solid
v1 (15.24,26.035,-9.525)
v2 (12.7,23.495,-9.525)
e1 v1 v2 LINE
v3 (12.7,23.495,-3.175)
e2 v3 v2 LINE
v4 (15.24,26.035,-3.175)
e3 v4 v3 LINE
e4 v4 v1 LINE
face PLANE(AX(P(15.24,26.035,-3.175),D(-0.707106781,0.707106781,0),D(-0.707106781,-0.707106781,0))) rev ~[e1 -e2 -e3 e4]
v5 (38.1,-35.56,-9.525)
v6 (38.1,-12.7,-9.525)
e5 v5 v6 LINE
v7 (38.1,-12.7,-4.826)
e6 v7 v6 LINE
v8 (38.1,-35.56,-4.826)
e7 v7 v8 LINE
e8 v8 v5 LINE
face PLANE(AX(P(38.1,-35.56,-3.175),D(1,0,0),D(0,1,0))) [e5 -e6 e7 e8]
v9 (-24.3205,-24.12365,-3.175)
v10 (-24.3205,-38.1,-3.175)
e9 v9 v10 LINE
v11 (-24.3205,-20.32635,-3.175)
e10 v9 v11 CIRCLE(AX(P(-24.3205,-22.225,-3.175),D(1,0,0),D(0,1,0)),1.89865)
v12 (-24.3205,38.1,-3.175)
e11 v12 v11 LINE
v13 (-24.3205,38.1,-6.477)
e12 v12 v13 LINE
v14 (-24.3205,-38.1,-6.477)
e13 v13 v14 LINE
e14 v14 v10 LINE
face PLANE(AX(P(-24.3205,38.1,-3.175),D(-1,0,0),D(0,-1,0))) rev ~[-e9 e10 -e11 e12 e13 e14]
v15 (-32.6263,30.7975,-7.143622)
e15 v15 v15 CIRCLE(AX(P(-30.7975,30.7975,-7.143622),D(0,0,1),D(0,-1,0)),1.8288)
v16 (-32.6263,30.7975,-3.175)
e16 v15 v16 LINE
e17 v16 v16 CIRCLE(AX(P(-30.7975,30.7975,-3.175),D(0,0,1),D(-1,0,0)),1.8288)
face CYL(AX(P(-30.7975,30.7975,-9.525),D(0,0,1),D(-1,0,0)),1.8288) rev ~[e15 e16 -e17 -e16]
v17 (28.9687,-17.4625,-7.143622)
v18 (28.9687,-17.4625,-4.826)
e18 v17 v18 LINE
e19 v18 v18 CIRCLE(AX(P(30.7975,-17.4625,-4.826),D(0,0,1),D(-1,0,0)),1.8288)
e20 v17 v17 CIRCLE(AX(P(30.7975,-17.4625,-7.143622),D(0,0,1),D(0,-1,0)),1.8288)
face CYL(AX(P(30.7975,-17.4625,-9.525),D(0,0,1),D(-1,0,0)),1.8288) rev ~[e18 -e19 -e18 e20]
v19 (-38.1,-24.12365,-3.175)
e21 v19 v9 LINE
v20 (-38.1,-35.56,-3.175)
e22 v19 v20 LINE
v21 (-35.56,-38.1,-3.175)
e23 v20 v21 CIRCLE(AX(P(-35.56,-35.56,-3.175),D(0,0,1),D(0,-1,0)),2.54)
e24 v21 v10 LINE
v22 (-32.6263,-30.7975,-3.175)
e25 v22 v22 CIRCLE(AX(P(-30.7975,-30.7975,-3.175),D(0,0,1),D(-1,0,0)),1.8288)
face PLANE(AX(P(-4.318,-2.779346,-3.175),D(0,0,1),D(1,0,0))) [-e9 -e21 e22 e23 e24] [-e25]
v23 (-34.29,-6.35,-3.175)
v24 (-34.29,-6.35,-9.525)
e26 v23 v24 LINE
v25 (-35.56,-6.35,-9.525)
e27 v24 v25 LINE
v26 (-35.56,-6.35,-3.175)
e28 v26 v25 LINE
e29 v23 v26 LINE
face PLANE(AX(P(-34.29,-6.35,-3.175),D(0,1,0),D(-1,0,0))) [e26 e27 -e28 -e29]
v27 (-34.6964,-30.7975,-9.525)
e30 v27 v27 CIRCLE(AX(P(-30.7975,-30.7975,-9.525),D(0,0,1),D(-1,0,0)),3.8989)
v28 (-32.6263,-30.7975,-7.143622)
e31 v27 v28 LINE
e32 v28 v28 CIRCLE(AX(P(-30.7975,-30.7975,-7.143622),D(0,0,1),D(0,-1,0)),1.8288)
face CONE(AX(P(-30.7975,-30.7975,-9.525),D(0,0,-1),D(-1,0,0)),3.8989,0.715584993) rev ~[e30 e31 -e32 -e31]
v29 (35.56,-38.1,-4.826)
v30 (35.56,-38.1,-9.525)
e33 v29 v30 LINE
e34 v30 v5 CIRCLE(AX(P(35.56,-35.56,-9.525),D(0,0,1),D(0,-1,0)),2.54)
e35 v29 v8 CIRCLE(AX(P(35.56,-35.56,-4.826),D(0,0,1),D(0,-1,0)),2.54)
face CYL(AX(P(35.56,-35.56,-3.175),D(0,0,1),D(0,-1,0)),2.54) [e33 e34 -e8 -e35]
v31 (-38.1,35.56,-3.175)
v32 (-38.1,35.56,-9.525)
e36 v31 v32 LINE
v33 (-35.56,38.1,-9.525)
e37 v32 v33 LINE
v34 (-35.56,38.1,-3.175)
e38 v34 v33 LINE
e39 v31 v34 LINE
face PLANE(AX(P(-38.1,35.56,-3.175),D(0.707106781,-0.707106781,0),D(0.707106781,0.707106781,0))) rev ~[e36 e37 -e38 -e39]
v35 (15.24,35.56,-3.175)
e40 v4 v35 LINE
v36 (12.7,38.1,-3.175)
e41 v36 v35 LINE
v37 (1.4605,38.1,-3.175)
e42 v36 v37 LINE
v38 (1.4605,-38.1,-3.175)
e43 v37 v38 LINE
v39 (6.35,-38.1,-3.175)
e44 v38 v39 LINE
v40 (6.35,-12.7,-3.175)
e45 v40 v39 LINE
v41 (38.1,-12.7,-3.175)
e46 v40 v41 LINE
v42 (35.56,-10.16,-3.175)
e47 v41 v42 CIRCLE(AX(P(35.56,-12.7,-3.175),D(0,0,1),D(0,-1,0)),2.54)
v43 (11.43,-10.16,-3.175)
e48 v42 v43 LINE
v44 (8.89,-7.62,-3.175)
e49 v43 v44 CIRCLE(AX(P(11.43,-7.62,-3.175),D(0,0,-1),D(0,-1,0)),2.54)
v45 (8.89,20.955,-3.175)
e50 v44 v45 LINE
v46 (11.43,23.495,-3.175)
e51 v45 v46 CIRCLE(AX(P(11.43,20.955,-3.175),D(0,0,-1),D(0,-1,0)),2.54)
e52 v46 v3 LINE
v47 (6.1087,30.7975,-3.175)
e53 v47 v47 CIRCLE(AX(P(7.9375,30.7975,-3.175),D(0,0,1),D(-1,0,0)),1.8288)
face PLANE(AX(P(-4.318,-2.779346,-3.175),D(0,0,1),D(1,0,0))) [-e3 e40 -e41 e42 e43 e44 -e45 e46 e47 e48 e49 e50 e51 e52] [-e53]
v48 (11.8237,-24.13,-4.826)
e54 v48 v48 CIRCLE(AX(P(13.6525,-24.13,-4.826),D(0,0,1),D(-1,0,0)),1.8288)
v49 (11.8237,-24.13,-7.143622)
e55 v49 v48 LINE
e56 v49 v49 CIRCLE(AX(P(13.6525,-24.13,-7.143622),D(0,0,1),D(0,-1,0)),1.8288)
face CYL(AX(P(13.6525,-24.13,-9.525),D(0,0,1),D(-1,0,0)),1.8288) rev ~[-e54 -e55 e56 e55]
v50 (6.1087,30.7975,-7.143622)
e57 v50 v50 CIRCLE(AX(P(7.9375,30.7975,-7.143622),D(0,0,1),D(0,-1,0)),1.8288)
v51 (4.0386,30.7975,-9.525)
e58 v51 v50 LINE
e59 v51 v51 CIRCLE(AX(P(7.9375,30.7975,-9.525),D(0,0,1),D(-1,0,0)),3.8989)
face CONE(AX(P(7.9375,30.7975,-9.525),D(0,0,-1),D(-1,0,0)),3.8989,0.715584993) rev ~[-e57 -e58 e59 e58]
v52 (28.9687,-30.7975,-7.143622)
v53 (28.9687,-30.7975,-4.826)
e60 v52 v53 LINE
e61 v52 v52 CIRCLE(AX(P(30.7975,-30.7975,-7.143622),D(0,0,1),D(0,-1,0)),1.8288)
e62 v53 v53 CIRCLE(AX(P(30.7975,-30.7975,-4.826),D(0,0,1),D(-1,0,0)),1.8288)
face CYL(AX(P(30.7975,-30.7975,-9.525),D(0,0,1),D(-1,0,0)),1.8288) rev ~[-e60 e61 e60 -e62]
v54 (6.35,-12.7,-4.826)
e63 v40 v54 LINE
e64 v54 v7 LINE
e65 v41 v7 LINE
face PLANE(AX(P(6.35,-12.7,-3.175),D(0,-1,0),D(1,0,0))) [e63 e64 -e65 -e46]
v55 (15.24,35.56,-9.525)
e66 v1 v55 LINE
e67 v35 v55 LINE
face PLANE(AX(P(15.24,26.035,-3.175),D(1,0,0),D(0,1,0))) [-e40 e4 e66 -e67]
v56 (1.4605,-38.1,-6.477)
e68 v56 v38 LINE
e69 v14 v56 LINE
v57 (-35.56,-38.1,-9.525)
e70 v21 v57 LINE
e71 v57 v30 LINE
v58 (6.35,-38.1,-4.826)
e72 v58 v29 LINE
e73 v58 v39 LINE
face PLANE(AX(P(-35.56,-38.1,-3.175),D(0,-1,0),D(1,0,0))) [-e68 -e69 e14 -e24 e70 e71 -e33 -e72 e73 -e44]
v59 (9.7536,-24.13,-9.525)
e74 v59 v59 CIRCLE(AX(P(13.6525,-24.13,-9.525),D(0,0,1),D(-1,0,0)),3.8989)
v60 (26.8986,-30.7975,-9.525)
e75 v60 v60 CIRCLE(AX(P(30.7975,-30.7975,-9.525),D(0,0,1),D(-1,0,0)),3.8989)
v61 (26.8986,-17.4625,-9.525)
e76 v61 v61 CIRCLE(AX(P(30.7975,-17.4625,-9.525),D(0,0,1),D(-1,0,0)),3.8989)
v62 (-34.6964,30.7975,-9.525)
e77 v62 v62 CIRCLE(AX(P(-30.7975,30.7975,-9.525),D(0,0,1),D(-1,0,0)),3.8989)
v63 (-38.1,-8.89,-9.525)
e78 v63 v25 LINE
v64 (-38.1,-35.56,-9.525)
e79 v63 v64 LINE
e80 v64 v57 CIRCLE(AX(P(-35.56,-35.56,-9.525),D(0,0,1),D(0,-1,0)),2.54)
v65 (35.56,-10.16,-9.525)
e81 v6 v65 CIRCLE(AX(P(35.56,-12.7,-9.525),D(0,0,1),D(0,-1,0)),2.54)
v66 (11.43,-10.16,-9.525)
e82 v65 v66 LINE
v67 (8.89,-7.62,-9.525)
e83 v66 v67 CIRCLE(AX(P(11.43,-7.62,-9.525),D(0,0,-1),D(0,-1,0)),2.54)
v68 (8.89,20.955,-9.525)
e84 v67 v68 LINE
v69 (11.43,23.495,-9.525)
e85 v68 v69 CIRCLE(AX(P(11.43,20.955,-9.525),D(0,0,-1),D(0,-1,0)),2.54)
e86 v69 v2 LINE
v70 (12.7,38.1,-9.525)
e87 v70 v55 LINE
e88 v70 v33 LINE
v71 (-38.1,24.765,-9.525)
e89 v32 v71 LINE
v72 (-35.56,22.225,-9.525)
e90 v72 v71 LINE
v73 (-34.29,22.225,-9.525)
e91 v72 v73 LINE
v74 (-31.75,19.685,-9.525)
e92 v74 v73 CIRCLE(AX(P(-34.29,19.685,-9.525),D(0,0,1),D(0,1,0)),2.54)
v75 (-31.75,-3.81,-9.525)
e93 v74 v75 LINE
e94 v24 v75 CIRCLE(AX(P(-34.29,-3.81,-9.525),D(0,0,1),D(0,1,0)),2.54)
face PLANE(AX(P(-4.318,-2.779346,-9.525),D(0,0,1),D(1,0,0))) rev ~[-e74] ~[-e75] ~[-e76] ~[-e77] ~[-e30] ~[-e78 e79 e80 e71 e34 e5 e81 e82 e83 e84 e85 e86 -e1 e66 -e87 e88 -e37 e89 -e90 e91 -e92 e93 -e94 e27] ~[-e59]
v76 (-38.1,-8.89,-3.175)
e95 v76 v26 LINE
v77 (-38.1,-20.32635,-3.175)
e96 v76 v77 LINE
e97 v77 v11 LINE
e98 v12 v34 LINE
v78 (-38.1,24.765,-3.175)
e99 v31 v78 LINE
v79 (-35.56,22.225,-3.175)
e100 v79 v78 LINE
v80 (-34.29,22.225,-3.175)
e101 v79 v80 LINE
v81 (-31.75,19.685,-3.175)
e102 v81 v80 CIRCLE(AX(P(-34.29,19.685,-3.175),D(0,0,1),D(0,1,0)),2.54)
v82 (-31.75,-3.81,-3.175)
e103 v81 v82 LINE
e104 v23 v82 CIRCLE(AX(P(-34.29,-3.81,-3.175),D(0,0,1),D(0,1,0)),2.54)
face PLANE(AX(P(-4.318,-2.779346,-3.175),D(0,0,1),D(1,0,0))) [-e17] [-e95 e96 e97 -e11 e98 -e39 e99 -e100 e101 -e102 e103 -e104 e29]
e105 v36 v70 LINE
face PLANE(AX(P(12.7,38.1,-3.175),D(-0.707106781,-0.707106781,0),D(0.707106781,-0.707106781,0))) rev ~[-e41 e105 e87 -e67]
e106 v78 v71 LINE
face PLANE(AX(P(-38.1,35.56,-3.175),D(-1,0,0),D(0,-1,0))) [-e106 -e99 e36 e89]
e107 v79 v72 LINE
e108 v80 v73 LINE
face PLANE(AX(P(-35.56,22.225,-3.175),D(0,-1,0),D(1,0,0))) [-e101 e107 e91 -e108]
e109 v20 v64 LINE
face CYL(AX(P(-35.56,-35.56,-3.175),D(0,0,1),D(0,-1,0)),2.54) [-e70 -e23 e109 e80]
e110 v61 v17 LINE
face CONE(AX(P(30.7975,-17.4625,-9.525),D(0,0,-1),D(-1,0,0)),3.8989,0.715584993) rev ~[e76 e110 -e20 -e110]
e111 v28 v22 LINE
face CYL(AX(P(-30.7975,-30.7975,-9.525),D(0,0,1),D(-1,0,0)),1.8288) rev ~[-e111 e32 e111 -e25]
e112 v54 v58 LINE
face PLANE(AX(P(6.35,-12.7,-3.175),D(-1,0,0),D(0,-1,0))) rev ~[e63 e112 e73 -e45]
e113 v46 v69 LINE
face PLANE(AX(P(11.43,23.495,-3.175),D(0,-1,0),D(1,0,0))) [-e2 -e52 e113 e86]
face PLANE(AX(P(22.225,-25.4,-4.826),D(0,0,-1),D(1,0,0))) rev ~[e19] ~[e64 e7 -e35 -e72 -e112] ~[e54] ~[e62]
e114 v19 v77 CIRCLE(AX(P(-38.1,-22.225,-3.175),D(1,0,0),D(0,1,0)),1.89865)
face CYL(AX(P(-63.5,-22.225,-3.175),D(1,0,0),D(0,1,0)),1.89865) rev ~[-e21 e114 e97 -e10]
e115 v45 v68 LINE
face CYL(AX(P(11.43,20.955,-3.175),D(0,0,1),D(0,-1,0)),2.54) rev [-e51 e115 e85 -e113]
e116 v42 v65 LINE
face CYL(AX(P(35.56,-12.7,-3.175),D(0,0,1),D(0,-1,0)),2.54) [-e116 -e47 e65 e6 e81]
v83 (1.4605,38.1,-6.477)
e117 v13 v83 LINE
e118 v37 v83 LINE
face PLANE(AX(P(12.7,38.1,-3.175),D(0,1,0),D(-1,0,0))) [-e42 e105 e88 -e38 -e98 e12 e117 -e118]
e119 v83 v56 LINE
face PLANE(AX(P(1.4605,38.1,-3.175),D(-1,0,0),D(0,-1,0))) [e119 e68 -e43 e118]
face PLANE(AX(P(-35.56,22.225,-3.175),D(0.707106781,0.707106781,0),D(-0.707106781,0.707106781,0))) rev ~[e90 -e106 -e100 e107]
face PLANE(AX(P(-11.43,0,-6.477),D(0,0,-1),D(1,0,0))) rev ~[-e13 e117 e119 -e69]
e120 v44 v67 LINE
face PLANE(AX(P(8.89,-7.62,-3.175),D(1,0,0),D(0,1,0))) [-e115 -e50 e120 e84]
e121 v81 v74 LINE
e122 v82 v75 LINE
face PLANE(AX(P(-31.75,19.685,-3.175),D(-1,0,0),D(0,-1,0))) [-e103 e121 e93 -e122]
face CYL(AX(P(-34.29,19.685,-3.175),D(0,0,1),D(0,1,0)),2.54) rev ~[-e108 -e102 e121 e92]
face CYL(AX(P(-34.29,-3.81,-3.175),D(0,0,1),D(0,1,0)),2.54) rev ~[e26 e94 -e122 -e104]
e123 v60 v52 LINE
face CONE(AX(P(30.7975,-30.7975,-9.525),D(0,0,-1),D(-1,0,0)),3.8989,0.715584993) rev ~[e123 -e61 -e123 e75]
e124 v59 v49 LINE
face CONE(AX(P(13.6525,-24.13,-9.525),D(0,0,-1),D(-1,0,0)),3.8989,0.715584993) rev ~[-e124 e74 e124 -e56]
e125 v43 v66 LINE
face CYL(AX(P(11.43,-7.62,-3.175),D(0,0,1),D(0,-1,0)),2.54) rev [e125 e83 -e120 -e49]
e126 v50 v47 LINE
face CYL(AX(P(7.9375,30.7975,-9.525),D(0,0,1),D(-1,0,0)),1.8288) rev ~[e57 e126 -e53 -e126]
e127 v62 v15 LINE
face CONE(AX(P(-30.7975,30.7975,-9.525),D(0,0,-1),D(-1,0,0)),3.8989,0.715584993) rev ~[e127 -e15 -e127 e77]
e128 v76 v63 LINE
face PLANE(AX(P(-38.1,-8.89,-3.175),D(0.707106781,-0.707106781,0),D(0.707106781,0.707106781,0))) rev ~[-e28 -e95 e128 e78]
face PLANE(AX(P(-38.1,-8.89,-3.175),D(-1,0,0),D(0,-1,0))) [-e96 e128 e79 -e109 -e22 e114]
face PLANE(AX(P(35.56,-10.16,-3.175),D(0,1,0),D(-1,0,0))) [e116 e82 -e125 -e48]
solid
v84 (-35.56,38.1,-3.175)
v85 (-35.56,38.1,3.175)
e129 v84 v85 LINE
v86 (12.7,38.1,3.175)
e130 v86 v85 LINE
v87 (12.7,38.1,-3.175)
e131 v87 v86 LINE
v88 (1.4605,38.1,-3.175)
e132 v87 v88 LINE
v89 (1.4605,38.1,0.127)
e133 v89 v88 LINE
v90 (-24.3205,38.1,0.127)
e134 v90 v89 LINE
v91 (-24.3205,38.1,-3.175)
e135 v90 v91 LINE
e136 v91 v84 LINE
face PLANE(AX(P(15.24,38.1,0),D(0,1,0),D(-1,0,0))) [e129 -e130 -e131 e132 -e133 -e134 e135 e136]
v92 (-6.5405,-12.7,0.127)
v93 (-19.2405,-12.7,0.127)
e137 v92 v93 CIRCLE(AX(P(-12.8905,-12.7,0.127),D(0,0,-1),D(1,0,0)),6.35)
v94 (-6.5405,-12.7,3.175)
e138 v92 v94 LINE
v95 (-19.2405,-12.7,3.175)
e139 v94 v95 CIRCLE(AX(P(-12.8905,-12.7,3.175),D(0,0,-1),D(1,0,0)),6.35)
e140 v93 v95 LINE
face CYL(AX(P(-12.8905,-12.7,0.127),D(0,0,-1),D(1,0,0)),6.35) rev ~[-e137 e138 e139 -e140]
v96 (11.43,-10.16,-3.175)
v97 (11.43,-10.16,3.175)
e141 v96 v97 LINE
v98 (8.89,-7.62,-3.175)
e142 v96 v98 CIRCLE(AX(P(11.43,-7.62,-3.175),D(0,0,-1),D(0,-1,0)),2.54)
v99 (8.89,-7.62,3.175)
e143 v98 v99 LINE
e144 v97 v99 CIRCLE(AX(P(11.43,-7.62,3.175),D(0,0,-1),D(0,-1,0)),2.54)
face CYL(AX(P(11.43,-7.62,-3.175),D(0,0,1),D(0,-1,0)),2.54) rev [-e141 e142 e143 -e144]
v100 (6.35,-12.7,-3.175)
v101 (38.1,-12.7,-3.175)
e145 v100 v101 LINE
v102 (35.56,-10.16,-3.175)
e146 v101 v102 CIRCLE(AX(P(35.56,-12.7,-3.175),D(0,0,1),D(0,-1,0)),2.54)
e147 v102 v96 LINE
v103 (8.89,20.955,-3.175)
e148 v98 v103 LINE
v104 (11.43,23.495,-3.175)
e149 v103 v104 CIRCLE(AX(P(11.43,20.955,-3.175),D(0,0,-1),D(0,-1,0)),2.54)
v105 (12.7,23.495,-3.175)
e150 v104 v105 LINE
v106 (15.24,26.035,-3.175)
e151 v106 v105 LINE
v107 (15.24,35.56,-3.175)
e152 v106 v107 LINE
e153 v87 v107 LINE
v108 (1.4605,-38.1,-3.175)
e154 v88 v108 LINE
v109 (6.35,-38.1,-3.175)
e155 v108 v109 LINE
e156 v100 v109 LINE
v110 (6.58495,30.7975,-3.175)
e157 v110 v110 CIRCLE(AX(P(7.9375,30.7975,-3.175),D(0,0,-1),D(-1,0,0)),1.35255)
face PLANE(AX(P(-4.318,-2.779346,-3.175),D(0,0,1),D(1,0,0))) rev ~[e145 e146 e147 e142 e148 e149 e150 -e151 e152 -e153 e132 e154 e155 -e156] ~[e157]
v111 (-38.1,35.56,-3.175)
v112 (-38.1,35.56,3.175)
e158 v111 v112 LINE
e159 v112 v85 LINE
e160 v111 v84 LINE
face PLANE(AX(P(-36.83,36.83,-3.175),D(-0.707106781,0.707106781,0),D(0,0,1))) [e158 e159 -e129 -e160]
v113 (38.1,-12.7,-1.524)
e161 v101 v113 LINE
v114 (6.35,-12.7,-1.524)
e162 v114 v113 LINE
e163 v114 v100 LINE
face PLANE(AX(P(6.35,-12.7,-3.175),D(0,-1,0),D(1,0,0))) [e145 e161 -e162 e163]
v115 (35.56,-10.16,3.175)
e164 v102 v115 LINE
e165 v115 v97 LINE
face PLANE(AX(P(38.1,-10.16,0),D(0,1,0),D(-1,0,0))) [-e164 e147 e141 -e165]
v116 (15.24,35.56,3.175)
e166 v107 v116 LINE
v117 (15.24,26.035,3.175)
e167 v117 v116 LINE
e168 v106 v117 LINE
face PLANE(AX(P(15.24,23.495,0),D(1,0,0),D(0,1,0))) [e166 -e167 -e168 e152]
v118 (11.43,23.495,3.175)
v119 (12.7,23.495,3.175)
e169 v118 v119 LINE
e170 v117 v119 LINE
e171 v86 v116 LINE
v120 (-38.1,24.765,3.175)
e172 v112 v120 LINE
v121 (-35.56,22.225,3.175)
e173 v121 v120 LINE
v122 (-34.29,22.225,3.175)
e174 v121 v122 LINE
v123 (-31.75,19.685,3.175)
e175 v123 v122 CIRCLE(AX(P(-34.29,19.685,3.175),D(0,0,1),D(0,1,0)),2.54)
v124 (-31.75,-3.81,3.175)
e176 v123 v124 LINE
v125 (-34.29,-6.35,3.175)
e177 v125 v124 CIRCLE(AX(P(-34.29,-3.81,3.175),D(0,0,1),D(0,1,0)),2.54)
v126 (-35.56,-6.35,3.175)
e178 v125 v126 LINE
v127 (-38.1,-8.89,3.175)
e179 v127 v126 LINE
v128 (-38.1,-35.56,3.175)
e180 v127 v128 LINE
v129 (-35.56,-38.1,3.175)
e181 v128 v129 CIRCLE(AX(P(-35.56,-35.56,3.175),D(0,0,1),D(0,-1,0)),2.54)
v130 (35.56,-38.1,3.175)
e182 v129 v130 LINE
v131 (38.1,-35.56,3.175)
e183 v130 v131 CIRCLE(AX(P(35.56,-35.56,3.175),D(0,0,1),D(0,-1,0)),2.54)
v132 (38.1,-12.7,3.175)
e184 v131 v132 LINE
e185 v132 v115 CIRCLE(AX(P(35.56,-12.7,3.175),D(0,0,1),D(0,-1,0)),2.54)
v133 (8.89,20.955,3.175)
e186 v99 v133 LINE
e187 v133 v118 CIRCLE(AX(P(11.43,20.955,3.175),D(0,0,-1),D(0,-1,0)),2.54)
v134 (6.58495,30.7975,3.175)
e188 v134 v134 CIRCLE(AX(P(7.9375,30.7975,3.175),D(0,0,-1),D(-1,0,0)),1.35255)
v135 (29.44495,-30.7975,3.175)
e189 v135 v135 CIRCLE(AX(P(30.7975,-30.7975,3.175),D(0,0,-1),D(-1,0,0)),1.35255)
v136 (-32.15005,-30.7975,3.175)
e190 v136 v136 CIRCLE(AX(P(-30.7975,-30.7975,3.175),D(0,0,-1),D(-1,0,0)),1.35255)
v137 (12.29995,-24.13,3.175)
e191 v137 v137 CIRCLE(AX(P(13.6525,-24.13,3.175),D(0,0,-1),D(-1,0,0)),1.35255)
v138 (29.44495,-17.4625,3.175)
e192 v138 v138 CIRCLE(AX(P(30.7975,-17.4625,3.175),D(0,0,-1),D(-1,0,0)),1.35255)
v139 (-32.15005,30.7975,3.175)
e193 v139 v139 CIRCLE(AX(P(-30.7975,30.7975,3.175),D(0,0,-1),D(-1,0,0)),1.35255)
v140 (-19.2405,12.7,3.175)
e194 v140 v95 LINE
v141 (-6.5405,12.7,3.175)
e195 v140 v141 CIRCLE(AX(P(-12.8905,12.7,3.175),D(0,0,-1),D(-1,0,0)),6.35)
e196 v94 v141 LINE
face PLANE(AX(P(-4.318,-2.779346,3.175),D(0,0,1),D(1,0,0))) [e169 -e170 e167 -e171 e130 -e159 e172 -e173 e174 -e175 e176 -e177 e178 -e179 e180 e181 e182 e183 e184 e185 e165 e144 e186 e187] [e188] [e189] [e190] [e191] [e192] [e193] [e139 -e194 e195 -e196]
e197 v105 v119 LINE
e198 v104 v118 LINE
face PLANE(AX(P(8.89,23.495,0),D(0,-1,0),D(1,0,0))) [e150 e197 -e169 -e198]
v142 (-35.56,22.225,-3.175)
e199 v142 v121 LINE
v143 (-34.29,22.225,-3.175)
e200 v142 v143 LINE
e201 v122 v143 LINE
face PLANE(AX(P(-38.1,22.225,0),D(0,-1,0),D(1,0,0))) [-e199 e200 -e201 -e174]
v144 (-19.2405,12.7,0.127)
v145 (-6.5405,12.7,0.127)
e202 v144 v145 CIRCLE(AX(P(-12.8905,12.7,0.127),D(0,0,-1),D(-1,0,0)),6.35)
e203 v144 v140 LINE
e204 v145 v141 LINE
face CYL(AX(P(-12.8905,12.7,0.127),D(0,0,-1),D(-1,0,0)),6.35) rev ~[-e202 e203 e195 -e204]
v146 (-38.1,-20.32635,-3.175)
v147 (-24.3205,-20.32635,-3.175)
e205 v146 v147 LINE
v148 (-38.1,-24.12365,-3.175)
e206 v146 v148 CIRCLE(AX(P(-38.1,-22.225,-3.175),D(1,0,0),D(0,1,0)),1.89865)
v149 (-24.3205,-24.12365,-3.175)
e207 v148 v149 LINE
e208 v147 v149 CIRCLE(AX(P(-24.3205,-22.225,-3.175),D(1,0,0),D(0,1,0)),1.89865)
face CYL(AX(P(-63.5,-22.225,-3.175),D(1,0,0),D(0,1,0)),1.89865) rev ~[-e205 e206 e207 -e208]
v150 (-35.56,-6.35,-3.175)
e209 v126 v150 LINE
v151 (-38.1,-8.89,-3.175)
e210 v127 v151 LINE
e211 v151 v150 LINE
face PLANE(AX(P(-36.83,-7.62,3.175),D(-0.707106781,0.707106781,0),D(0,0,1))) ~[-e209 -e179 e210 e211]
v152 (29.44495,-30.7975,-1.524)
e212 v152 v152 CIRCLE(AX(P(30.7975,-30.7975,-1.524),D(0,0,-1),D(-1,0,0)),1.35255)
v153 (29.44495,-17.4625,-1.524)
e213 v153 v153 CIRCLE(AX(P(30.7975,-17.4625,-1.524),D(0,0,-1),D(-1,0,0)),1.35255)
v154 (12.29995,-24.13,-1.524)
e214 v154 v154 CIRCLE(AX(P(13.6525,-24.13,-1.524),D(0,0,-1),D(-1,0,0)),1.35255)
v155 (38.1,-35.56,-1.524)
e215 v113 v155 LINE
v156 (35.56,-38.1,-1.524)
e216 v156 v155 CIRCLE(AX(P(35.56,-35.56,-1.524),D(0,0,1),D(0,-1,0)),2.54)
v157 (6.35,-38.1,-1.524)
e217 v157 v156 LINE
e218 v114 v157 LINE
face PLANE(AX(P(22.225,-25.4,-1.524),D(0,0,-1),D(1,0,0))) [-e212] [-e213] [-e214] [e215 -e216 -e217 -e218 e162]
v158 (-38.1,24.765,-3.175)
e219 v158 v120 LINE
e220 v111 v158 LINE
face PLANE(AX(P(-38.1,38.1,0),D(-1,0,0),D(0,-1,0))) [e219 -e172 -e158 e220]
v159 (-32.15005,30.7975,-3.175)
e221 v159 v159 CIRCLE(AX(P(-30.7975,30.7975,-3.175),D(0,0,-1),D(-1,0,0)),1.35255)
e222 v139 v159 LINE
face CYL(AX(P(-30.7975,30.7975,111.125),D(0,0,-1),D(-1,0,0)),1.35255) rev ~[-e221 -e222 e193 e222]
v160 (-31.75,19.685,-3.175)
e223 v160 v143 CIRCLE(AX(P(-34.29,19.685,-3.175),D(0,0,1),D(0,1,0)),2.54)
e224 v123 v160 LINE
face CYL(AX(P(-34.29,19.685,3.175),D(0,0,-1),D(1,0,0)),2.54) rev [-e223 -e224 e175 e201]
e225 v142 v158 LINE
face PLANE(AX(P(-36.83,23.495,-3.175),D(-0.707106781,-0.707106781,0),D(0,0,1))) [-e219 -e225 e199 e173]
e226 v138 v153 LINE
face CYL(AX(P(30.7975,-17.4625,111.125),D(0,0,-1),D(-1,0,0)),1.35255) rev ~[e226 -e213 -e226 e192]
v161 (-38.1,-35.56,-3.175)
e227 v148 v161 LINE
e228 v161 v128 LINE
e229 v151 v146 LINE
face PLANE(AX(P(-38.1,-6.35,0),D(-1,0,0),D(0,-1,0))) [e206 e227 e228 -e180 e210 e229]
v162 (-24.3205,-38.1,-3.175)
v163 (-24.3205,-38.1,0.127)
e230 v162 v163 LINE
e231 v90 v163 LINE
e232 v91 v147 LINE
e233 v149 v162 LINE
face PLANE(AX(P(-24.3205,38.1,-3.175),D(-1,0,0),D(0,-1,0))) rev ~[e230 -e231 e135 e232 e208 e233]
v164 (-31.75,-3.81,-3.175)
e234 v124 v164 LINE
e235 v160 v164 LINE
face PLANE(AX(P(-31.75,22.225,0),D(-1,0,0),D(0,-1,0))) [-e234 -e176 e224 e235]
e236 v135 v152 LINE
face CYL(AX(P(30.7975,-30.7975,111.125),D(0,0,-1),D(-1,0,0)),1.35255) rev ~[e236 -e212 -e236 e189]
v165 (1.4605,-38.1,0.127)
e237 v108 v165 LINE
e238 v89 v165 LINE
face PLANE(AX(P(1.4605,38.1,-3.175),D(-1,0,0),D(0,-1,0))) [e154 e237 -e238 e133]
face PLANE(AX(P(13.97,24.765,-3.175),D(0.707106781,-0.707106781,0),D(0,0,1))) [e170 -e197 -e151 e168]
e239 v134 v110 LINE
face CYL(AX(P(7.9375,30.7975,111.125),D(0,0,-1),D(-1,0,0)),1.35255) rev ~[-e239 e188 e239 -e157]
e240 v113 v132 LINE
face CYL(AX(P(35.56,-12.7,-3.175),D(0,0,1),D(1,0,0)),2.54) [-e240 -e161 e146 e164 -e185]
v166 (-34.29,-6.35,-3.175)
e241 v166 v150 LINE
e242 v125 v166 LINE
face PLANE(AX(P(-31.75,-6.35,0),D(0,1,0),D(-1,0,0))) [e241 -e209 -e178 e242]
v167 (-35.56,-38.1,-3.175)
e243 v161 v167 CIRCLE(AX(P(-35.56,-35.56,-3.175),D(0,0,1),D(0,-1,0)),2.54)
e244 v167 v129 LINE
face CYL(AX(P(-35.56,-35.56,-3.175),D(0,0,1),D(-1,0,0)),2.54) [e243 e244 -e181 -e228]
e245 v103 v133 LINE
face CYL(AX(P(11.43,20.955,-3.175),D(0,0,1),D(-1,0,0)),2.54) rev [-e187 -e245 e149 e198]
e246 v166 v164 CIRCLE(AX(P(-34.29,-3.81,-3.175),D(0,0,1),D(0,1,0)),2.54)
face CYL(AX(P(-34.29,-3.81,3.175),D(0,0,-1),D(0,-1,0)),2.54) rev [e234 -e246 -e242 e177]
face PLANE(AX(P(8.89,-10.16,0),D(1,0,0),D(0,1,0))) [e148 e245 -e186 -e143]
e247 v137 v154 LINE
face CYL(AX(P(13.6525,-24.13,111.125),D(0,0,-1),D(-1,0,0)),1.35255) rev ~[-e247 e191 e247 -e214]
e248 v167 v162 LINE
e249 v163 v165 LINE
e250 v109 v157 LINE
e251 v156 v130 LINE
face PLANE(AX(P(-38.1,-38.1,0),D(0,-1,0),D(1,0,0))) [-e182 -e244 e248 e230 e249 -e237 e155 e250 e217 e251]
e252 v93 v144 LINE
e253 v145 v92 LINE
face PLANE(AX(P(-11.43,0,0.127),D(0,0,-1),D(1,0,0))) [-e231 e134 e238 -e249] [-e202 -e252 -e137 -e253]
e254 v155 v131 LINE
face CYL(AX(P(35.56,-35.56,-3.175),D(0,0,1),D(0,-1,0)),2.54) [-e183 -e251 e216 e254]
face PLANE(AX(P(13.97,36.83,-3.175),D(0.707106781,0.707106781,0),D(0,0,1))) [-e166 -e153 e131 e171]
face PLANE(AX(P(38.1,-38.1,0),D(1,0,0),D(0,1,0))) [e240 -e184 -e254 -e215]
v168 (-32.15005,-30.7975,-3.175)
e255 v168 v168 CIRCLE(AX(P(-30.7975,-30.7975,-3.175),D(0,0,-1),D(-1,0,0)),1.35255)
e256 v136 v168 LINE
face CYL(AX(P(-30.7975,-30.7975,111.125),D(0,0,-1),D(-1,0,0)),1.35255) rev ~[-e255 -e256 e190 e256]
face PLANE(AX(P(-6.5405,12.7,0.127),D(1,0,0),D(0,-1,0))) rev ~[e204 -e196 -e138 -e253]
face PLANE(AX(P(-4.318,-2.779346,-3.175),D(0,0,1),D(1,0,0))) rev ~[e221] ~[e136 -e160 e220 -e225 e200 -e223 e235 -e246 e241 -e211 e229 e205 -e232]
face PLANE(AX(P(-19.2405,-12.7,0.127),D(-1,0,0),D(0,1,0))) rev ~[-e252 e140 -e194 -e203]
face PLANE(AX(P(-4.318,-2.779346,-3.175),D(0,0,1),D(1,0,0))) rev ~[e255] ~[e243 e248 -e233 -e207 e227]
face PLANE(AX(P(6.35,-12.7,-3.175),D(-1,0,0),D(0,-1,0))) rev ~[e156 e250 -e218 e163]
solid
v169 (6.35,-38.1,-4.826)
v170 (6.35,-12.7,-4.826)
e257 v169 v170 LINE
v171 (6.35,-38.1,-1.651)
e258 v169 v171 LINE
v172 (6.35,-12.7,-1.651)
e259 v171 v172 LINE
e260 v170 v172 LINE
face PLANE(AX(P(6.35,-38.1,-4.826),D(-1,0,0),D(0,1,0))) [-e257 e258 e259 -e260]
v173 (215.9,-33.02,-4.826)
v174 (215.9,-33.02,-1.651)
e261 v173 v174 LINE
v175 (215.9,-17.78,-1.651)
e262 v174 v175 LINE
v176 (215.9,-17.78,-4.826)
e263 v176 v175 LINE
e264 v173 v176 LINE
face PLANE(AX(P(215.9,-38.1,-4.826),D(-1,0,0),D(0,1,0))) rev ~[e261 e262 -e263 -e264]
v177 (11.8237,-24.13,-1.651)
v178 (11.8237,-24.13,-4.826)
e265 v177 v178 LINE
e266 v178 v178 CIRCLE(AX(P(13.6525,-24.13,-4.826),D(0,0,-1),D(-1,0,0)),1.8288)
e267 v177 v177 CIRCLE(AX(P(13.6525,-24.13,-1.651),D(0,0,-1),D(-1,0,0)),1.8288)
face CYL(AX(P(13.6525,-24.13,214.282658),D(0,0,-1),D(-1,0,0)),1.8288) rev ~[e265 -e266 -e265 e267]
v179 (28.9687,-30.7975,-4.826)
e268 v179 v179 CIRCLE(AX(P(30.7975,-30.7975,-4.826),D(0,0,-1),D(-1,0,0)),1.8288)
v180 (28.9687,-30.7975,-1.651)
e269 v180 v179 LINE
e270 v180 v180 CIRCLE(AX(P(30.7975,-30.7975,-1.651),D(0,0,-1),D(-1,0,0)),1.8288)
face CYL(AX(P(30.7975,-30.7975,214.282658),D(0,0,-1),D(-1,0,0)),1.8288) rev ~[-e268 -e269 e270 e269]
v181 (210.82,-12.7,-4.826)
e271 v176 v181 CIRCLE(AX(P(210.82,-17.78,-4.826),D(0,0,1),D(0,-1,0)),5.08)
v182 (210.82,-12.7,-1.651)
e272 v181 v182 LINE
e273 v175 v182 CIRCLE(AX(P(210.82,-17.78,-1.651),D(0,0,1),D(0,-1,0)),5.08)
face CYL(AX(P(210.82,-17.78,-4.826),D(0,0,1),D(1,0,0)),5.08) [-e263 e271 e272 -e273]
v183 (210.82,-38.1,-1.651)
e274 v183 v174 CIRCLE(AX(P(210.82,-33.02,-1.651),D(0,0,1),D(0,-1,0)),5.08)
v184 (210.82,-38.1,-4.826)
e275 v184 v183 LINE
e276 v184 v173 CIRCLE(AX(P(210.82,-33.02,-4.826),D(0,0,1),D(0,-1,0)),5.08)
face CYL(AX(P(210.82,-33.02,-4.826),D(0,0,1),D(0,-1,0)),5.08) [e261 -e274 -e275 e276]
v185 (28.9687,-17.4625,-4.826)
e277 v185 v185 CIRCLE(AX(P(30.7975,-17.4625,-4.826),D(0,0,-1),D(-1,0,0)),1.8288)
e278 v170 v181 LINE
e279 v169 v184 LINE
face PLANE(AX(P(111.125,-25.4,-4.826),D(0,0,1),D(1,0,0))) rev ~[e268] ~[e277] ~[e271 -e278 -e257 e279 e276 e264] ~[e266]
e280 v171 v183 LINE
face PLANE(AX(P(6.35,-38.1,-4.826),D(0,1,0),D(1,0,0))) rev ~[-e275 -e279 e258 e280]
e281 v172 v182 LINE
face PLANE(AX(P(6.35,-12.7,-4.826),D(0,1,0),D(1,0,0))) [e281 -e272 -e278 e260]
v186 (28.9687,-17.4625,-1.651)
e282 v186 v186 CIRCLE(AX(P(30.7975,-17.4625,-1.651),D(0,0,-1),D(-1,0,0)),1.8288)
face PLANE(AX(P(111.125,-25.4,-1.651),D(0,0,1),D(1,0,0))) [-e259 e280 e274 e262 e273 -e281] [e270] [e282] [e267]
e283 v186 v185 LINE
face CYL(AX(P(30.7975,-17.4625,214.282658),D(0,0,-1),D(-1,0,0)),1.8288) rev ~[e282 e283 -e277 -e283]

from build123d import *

# Parameters (mm, degrees)
F1_DEPTH        = 3.175
F2_SIZE         = 2.54
F3_R            = 2.54
F4_DEPTH        = 6.35
F5_W            = 25.781
F5_H            = 76.2
F6_DEPTH        = 3.302
F6_DEPTH_BACK   = 3.302
F7_W            = 31.75
F7_H            = 25.4
F8_DEPTH        = 1.651
F8_DEPTH_BACK   = 1.651
F10_D           = 2.7051
F12_D           = 3.6576
F12_CSINK_D     = 7.7978
F12_CSINK_ANGLE = 82
F14_DEPTH       = 25.4
F15_W           = 209.55
F15_H           = 25.4
F16_DEPTH       = 3.175
F17_R           = 5.08
F18_D           = 3.6576
F20_D           = 3.7973
F20_DEPTH       = 25.4
F20_TIP         = 1.1408240143
F20_2_D         = 3.7973
F20_2_DEPTH     = 25.4
F20_2_TIP       = 1.1408240143


with BuildPart() as f1:
    # F0 (on Top) → F1 (new body, symmetric)
    with BuildSketch(Plane.XY):
        Polygon((-38.1, -6.35), (-38.1, -38.1), (38.1, -38.1), (38.1, -10.16), (8.89, -10.16), (8.89, 23.495), (15.24, 23.495), (15.24, 38.1), (-38.1, 38.1), (-38.1, 22.225), (-31.75, 22.225), (-31.75, -6.35), align=None)
    extrude(amount=F1_DEPTH, both=True)

    # F2
    f2_edges = [f1.edges().sort_by_distance(p)[0] for p in [
        (-38.1, 38.1, 0),
        (-38.1, 22.225, 0),
        (-38.1, -6.35, 0),
        (15.24, 23.495, 0),
        (15.24, 38.1, 0),
    ]]
    chamfer(f2_edges, length=F2_SIZE)

    # F3
    f3_edges = [f1.edges().sort_by_distance(p)[0] for p in [
        (-31.75, 22.225, 0),
        (-31.75, -6.35, 0),
        (8.89, 23.495, 0),
        (8.89, -10.16, 0),
        (38.1, -10.16, 0),
        (38.1, -38.1, 0),
        (-38.1, -38.1, 0),
    ]]
    fillet(f3_edges, radius=F3_R)


with BuildPart() as f4:
    # F4 (new): a face of the model
    f4_faces = [f1.part.faces().sort_by_distance(p)[0] for p in [
        (-5.9422199063, -4.3062471014, -3.175),
    ]]
    extrude(f4_faces, amount=F4_DEPTH)


with BuildPart() as f6_tool:
    # F5 (on face) → F6 (new body, two sides)
    with BuildSketch(Plane(origin=(0, 0, -3.175), x_dir=(1, 0, 0), z_dir=(0, 0, -1))) as f6_sk:
        with Locations((-11.43, 0)):
            Rectangle(F5_W, F5_H)
    extrude(amount=-F6_DEPTH)
    extrude(f6_sk.sketch, amount=F6_DEPTH_BACK)


with BuildPart() as f1_1:
    add(f1.part)

    # F6: cut by f6_tool
    add(f6_tool.part, mode=Mode.SUBTRACT)


with BuildPart() as f4_1:
    add(f4.part)

    # F6: cut by f6_tool
    add(f6_tool.part, mode=Mode.SUBTRACT)


with BuildPart() as f8_tool:
    # F7 (on face) → F8 (new body, two sides)
    with BuildSketch(Plane(origin=(0, 0, -3.175), x_dir=(1, 0, 0), z_dir=(0, 0, -1))) as f8_sk:
        with Locations((22.225, 25.4)):
            Rectangle(F7_W, F7_H)
    extrude(amount=-F8_DEPTH)
    extrude(f8_sk.sketch, amount=F8_DEPTH_BACK)


with BuildPart() as f1_2:
    add(f1_1.part)

    # F8: cut by f8_tool
    add(f8_tool.part, mode=Mode.SUBTRACT)

    # F10 (through all)
    with Locations(Plane.XY.offset(3.175)):
        with Locations((-30.7975, 30.7975), (7.9375, 30.7975), (-30.7975, -30.7975), (13.6525, -24.13), (30.7975, -17.4625), (30.7975, -30.7975)):
            Hole(F10_D / 2)

    # F13 (on face) → F14 (cut)
    with BuildSketch(Plane(origin=(0, 0, 0.127), x_dir=(1, 0, 0), z_dir=(0, 0, -1))):
        with BuildLine():
            Line((-6.5405, -12.7), (-6.5405, 12.7))
            ThreePointArc((-6.5405, 12.7), (-12.8905, 19.05), (-19.2405, 12.7))
            Line((-19.2405, 12.7), (-19.2405, -12.7))
            ThreePointArc((-19.2405, -12.7), (-12.8905, -19.05), (-6.5405, -12.7))
        make_face()
    extrude(amount=-F14_DEPTH, mode=Mode.SUBTRACT)

    # F20
    with Locations(Plane(origin=(-38.1, 0, 0), x_dir=(0, -1, 0), z_dir=(-1, 0, 0))):
        with Locations((22.225, -3.175)):
            Hole(F20_D / 2, depth=F20_DEPTH)
            with Locations((0, 0, -(F20_DEPTH + F20_TIP / 2))):  # 118° drill point
                Cone(0, F20_D / 2, F20_TIP, mode=Mode.SUBTRACT)


with BuildPart() as f4_2:
    add(f4_1.part)

    # F8: cut by f8_tool
    add(f8_tool.part, mode=Mode.SUBTRACT)

    # F12 (through all)
    with Locations(Plane(origin=(0, 0, -9.525), x_dir=(1, 0, 0), z_dir=(0, 0, -1))):
        with Locations((-30.7975, -30.7975), (-30.7975, 30.7975), (7.9375, -30.7975), (13.6525, 24.13), (30.7975, 17.4625), (30.7975, 30.7975)):
            CounterSinkHole(F12_D / 2, F12_CSINK_D / 2, counter_sink_angle=F12_CSINK_ANGLE)

    # F20#2
    with Locations(Plane(origin=(-38.1, 0, 0), x_dir=(0, -1, 0), z_dir=(-1, 0, 0))):
        with Locations((22.225, -3.175)):
            Hole(F20_2_D / 2, depth=F20_2_DEPTH)
            with Locations((0, 0, -(F20_2_DEPTH + F20_2_TIP / 2))):  # 118° drill point
                Cone(0, F20_2_D / 2, F20_2_TIP, mode=Mode.SUBTRACT)


with BuildPart() as f16:
    # F15 (on face) → F16 (new body)
    with BuildSketch(Plane.XY.offset(-4.826)):
        with Locations((111.125, -25.4)):
            Rectangle(F15_W, F15_H)
    extrude(amount=F16_DEPTH)

    # F17
    f17_edges = [f16.edges().sort_by_distance(p)[0] for p in [
        (215.9, -38.1, -3.2385),
        (215.9, -12.7, -3.2385),
    ]]
    fillet(f17_edges, radius=F17_R)

    # F18 (through all)
    with Locations(Plane.XY.offset(3.175)):
        with Locations((13.6525, -24.13), (30.7975, -30.7975), (30.7975, -17.4625)):
            Hole(F18_D / 2)


solid = Compound([f1_2.part, f4_2.part, f16.part])
